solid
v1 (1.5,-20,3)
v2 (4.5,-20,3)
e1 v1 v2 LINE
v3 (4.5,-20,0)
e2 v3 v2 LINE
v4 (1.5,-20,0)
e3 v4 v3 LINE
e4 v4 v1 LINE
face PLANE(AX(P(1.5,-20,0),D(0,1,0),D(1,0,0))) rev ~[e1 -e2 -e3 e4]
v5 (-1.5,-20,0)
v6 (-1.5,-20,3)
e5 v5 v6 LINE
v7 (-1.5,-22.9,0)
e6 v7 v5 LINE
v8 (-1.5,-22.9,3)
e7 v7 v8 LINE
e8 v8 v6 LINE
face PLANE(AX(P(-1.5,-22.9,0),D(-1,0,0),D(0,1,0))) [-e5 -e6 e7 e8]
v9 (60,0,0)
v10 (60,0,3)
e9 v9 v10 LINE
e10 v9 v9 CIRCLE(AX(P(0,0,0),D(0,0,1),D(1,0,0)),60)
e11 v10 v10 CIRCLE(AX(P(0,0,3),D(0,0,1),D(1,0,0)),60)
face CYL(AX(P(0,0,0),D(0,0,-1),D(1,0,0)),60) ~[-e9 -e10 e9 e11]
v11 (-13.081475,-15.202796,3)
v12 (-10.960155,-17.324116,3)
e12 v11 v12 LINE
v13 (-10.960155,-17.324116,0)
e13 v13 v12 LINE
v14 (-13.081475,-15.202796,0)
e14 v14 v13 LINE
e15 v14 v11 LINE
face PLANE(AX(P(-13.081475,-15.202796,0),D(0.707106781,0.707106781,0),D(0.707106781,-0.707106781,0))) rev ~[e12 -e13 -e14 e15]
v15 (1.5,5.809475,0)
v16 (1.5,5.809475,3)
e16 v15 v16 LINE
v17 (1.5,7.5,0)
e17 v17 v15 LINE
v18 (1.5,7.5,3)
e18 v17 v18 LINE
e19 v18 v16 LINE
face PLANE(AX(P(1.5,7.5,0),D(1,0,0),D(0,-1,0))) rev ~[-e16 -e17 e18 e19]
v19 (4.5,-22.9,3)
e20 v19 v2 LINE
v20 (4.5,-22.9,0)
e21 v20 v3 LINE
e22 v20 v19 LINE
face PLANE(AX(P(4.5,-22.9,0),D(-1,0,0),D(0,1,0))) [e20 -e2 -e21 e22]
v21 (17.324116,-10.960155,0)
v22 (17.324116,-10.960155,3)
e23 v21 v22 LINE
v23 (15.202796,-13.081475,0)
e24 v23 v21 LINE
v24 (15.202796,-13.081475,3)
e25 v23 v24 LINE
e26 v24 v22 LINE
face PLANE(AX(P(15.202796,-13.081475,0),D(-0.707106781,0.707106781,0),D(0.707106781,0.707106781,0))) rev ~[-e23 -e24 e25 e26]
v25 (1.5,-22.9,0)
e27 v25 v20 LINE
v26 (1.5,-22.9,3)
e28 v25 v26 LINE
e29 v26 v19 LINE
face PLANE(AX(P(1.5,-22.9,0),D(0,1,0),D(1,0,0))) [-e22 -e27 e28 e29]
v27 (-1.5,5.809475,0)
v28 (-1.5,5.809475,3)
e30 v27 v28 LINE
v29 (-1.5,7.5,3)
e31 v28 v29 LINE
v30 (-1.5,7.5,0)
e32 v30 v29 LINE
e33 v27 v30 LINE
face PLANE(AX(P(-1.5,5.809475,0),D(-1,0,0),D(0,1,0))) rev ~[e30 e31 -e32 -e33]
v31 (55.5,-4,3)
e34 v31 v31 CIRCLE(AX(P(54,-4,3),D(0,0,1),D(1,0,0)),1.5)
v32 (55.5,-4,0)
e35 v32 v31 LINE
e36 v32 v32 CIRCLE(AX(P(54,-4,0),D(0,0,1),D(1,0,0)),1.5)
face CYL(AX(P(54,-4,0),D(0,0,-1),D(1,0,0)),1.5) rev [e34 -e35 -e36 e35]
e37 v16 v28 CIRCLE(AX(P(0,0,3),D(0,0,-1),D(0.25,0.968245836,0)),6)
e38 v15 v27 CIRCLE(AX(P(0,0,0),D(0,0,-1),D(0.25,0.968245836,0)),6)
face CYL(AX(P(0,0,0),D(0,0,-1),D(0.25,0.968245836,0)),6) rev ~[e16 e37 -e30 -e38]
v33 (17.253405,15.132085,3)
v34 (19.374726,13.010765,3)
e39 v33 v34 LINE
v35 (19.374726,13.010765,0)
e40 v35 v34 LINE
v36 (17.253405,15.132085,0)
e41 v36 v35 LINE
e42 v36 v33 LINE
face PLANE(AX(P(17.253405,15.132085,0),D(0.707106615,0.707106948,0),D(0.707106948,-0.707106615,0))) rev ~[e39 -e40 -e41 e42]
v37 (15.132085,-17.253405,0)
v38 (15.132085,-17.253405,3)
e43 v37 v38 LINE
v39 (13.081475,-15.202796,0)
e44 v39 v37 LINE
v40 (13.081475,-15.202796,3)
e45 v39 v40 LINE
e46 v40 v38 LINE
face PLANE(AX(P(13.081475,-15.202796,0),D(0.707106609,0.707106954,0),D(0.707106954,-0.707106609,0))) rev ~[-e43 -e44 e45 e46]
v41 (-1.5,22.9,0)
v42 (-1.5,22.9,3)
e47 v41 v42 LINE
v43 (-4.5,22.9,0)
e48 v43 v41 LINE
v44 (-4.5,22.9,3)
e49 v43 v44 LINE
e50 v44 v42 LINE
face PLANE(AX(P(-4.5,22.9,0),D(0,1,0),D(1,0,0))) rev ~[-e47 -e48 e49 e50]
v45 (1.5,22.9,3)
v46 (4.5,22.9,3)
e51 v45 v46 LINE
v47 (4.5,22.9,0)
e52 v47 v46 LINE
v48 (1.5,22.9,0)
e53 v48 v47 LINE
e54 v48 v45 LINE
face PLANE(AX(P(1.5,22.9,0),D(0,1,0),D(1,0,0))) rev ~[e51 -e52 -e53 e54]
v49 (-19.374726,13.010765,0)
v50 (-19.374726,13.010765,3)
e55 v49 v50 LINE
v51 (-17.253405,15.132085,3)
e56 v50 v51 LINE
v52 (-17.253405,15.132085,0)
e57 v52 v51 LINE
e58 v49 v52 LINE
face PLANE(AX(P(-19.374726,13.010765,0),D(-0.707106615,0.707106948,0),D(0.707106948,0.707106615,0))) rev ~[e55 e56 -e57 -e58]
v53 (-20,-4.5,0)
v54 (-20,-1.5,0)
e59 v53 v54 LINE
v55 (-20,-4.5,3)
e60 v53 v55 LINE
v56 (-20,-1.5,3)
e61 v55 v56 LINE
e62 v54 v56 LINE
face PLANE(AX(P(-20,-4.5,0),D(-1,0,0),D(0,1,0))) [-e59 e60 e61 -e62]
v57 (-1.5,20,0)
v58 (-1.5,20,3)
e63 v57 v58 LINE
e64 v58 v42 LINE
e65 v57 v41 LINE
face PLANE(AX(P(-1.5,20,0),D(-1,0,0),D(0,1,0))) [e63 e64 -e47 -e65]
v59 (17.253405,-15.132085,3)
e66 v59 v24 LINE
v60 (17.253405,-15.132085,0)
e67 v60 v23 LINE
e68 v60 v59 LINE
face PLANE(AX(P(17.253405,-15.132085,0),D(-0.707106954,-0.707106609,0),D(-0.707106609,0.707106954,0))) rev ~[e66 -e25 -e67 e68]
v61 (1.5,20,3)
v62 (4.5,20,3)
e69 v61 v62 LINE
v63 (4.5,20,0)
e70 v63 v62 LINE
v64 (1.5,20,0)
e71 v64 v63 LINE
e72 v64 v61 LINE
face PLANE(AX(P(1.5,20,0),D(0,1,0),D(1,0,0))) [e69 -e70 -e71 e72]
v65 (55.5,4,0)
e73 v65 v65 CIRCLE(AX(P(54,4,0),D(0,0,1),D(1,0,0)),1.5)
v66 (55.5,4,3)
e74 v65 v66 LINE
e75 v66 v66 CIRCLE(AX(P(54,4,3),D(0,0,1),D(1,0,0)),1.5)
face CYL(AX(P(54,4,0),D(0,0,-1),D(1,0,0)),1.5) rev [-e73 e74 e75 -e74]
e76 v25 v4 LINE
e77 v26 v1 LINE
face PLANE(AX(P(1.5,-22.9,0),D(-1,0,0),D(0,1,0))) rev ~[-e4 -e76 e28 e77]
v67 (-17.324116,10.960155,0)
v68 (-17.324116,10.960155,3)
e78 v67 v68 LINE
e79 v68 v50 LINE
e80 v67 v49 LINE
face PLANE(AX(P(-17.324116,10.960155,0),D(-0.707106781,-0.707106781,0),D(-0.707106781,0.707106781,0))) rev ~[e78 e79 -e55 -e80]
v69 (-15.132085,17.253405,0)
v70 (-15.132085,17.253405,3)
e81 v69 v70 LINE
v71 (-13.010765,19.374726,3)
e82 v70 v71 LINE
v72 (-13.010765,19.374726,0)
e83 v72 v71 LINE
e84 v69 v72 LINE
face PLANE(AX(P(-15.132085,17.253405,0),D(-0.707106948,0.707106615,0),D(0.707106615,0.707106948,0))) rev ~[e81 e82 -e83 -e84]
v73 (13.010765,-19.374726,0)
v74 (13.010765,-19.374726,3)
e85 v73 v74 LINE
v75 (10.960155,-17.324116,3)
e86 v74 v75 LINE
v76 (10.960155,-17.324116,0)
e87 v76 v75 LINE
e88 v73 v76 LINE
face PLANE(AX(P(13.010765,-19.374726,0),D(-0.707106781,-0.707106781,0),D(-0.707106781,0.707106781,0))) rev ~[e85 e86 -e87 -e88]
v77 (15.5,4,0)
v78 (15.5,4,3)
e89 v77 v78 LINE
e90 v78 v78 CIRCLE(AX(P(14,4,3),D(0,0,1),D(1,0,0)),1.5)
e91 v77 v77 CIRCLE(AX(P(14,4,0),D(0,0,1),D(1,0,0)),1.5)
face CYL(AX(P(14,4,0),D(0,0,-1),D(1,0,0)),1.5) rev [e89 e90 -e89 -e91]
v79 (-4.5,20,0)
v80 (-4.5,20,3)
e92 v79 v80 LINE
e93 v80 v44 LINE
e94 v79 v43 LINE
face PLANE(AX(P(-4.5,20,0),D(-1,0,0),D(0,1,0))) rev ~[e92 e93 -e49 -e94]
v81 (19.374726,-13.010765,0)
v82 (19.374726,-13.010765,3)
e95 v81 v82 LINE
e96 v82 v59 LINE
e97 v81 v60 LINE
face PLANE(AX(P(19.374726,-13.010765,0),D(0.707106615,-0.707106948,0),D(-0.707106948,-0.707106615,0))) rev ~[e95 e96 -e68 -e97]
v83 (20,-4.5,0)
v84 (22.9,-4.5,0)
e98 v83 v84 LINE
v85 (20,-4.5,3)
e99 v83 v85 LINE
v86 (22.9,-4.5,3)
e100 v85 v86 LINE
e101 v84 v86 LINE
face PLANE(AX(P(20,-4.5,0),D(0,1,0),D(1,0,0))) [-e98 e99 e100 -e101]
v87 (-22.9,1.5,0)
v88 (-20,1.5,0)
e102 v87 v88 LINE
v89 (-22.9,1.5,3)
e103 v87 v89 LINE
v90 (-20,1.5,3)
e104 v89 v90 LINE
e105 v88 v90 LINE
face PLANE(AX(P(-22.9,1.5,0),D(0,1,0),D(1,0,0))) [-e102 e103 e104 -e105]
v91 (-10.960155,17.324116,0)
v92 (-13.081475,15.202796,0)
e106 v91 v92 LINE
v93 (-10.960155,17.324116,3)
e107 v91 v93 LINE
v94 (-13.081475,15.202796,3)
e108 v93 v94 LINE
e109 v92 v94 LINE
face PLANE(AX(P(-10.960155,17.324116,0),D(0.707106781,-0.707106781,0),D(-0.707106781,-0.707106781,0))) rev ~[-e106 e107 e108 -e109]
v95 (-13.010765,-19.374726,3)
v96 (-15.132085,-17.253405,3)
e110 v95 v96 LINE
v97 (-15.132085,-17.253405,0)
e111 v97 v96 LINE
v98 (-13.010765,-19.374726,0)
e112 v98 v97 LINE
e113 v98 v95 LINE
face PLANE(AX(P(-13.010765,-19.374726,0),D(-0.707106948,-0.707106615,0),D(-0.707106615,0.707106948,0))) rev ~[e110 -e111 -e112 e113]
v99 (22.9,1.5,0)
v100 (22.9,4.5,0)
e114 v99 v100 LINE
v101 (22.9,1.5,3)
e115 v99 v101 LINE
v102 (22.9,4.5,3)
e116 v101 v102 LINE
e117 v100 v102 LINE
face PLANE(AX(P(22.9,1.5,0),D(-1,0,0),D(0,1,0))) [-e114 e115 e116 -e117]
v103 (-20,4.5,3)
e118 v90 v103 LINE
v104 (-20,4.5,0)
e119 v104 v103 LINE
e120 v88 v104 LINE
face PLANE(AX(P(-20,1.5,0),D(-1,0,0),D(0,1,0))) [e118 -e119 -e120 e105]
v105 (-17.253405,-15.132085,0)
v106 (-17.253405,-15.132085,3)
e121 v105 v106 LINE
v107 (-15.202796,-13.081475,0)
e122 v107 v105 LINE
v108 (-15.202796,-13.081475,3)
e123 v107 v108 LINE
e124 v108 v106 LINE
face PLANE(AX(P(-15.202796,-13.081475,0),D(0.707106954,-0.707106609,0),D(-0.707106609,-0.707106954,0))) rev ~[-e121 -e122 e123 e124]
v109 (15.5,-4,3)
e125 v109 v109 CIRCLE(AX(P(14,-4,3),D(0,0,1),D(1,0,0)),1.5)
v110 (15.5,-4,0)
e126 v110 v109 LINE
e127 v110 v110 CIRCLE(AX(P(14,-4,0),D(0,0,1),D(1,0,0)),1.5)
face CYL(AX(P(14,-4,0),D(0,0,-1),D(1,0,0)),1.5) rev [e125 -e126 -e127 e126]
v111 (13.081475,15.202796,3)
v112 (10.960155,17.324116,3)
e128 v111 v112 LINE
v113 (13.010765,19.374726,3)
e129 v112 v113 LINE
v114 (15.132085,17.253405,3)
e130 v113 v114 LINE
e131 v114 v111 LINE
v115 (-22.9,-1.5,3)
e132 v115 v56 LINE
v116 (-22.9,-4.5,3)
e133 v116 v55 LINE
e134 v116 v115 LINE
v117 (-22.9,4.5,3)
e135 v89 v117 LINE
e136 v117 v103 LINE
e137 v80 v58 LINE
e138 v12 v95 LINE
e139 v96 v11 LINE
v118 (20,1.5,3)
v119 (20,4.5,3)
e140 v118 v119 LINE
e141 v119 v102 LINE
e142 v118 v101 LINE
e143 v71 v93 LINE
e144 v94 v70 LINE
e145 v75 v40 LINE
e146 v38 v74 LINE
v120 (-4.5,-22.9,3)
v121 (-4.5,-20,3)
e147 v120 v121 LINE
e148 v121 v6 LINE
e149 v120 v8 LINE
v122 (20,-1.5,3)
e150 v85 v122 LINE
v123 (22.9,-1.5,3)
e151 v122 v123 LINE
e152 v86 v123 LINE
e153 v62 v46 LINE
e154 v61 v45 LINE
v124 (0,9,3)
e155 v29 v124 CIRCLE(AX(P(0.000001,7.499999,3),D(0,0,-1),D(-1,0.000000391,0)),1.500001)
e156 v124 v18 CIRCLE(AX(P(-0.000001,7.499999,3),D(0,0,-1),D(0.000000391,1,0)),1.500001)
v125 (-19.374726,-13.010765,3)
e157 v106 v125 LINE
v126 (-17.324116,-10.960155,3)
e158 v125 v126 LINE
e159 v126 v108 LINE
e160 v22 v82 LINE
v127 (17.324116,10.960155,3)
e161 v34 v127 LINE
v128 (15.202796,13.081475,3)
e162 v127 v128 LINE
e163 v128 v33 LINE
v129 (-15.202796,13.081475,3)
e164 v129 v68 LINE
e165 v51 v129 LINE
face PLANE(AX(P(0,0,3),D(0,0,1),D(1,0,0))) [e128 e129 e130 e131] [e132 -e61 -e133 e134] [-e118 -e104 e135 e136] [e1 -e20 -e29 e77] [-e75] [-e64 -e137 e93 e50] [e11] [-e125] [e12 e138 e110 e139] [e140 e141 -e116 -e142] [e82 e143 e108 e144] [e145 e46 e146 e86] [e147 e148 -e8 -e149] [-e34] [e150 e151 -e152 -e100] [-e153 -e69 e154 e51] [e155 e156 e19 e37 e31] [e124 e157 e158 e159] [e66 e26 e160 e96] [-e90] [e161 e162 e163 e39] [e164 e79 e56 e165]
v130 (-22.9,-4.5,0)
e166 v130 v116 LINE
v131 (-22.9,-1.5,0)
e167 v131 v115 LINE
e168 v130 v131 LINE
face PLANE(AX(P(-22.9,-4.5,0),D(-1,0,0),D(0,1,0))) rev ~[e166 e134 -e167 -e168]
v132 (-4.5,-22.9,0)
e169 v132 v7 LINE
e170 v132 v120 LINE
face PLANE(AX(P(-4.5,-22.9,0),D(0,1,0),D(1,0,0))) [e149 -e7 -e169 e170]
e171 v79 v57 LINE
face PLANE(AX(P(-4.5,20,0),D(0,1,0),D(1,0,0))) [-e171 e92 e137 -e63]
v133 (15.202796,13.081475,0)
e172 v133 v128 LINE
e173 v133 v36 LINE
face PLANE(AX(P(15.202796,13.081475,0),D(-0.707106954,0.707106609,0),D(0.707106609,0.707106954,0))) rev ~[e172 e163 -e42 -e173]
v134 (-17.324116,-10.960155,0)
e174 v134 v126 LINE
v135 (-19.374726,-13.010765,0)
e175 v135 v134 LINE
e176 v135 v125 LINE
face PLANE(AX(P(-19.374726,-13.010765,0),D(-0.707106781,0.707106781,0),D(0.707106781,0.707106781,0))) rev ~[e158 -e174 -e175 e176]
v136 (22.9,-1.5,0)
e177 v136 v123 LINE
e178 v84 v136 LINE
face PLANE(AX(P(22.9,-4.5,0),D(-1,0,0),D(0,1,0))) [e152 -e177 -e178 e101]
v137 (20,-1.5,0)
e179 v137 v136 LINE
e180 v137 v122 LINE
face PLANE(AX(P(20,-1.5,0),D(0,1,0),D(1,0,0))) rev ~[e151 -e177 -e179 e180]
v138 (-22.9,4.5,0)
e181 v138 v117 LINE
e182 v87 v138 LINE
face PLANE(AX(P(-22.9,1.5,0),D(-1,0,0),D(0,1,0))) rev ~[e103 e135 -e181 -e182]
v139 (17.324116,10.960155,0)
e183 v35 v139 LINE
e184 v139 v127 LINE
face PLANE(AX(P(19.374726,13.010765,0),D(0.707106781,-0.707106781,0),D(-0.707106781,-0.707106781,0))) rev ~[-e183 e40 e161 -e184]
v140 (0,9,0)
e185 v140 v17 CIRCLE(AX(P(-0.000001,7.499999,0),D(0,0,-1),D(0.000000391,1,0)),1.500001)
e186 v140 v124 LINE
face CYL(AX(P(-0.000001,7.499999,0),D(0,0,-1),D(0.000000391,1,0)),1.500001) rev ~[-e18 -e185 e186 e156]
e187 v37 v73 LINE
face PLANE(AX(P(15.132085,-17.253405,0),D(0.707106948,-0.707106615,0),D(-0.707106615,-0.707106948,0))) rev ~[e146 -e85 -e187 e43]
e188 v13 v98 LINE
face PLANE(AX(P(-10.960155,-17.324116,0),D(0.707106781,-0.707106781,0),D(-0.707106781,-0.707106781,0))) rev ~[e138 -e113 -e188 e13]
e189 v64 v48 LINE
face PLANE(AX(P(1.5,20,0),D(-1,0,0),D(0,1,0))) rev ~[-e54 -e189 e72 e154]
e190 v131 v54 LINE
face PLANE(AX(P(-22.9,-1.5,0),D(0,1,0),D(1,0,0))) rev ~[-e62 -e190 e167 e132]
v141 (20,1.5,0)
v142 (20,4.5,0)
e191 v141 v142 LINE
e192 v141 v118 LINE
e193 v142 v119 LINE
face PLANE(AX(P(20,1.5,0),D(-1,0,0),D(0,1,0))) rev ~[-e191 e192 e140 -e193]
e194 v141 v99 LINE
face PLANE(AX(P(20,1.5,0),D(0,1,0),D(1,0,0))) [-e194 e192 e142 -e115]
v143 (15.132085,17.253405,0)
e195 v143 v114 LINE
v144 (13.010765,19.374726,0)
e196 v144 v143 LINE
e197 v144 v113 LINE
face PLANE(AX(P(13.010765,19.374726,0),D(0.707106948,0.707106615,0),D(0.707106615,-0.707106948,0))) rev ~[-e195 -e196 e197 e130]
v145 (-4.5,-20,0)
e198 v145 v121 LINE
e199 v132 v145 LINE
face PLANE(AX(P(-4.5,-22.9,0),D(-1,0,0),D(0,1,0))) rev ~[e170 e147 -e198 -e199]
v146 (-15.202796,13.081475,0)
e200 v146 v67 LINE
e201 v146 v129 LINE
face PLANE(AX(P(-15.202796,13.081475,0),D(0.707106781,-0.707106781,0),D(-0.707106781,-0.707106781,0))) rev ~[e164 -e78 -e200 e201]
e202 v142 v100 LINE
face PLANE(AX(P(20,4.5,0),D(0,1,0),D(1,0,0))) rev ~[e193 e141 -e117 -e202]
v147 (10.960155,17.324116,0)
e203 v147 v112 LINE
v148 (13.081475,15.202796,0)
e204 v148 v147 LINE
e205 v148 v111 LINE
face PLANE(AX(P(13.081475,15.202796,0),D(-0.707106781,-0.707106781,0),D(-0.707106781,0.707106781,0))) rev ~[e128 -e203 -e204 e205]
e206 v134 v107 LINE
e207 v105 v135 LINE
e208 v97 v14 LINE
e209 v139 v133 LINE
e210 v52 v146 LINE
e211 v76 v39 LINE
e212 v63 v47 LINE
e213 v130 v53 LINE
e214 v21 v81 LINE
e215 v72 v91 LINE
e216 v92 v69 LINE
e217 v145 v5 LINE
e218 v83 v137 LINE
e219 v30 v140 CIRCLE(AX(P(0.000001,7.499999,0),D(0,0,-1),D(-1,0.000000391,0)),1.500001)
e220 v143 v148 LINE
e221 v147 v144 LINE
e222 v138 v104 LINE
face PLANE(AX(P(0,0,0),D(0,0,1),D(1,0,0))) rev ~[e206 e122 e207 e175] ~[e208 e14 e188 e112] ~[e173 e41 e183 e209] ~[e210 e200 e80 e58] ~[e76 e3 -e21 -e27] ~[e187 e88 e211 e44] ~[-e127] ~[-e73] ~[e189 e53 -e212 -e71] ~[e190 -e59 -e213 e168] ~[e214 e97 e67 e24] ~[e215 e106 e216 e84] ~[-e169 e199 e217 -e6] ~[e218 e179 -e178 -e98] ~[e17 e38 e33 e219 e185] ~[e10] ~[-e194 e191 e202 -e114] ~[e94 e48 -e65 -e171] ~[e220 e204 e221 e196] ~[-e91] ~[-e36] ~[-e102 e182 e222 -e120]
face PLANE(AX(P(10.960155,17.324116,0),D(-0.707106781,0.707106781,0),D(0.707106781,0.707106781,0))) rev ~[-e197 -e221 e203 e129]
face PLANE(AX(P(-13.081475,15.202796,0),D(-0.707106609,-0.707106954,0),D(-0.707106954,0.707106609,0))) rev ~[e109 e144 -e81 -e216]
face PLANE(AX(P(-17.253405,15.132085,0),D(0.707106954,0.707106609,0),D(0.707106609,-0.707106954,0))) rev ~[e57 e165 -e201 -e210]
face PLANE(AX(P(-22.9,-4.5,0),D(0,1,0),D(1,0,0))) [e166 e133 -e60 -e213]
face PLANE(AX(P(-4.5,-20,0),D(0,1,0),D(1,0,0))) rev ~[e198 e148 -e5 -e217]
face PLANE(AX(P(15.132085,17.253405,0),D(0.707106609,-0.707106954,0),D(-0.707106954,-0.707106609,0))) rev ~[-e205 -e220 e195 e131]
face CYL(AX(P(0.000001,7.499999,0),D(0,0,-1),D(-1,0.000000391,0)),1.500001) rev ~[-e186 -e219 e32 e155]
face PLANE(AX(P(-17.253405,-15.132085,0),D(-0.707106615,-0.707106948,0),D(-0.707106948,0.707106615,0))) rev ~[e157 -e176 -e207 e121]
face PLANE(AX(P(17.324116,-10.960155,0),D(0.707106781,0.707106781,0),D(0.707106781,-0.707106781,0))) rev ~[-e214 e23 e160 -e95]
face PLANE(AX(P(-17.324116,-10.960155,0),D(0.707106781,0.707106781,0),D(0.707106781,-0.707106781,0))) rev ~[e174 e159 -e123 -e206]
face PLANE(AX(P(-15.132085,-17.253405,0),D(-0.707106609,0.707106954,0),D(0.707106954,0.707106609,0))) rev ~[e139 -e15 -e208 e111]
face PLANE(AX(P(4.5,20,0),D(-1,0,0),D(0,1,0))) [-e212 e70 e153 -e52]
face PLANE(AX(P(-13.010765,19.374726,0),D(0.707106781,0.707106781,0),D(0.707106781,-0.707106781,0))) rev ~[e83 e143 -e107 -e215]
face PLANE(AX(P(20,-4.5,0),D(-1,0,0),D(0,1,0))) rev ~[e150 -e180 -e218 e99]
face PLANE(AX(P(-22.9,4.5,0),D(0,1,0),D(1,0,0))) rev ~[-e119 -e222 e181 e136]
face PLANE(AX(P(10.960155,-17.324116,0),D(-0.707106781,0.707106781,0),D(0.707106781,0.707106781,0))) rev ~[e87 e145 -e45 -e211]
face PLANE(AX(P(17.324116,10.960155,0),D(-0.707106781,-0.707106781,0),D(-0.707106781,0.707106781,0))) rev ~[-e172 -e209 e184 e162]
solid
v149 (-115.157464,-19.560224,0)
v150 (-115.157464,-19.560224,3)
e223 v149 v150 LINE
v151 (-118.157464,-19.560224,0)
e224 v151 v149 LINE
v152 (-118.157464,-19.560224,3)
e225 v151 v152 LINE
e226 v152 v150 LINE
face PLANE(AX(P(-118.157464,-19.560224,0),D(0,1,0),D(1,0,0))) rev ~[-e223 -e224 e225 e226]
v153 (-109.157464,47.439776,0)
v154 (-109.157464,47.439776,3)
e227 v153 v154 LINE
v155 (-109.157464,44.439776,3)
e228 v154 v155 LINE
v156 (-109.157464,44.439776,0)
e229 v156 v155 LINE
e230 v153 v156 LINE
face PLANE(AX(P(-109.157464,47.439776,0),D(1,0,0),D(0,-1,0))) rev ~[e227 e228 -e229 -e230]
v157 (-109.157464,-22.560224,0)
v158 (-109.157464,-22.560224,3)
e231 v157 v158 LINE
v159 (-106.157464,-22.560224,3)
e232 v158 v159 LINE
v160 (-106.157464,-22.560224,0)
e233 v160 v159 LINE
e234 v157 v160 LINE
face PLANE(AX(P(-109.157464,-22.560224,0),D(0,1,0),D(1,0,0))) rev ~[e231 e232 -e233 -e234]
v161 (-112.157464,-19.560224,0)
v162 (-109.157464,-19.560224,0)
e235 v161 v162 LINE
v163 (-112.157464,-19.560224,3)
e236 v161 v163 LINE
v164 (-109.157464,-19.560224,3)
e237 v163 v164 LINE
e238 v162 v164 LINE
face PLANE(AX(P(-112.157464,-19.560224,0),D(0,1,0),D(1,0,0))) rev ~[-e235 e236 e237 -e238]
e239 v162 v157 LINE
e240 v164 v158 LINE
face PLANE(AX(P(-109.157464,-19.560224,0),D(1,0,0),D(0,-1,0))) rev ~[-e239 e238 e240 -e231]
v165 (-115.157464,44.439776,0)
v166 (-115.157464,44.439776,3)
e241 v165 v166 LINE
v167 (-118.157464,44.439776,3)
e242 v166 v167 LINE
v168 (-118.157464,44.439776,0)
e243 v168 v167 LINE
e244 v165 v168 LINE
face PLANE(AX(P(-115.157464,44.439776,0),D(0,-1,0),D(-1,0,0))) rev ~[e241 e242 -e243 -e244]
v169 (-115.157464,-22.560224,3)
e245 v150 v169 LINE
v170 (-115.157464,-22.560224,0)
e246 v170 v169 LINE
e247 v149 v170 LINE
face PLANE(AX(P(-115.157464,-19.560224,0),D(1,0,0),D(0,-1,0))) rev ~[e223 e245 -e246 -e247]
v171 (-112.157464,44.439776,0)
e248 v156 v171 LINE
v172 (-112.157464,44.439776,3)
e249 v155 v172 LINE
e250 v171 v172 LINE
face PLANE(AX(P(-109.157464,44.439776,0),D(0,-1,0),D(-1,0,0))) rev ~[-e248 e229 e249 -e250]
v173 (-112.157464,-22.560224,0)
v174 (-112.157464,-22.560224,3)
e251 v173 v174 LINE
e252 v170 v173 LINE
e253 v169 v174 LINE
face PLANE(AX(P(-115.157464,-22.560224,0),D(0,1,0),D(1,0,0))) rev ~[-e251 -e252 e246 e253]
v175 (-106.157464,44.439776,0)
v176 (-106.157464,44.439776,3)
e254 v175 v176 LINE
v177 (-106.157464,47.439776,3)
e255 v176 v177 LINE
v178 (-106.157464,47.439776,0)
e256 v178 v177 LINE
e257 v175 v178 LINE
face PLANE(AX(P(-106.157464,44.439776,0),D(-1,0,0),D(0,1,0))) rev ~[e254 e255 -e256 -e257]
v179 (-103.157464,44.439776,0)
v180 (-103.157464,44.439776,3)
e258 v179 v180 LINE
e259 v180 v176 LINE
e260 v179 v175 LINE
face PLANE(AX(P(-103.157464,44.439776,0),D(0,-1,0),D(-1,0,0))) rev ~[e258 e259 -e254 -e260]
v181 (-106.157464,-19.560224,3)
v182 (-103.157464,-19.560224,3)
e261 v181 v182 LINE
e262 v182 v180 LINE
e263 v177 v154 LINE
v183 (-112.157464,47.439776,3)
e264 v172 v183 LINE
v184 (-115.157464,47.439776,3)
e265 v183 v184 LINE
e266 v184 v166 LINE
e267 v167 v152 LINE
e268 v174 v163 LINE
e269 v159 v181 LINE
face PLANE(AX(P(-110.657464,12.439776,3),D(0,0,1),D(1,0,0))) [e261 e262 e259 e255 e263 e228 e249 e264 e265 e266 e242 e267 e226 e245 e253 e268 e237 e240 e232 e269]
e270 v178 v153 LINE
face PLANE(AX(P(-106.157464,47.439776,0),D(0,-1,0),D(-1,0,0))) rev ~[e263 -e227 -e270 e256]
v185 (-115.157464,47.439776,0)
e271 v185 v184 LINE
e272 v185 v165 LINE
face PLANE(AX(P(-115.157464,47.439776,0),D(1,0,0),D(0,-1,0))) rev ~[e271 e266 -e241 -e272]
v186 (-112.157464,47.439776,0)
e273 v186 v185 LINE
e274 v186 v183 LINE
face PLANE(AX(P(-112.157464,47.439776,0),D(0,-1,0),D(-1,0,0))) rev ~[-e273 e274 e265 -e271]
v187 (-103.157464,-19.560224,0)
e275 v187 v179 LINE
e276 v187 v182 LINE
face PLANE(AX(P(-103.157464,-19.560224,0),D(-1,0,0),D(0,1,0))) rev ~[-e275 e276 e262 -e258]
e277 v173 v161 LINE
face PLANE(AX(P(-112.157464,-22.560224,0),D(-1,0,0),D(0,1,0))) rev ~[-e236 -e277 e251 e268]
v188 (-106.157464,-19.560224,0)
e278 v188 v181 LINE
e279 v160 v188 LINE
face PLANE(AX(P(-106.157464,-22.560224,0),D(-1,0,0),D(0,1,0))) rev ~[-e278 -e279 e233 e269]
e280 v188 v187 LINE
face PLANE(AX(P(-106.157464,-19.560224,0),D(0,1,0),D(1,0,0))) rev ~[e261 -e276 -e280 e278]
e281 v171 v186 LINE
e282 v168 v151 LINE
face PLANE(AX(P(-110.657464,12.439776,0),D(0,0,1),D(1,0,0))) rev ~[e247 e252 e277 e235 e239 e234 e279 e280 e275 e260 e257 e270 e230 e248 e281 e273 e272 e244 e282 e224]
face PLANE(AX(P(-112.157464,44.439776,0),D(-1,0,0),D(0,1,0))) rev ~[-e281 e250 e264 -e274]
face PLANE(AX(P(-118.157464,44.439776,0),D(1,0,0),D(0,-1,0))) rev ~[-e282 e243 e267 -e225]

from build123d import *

# Parameters (mm, degrees)
F2_DEPTH = 3
F0_R     = 60
F0_W     = 3
F0_H     = 2.9
F0_W_2   = 2.9
F0_H_2   = 3
F0_R_2   = 1.5
F0_R_3   = 20
F3_DEPTH = 3


with BuildPart() as f2:
    # F1 (on Top) → F2 (new body)
    with BuildSketch(Plane.XY):
        Polygon((-112.157464, 47.439776), (-115.157464, 47.439776), (-115.157464, 44.439776), (-118.157464, 44.439776), (-118.157464, -19.560224), (-115.157464, -19.560224), (-115.157464, -22.560224), (-112.157464, -22.560224), (-112.157464, -19.560224), (-109.157464, -19.560224), (-109.157464, -22.560224), (-106.157464, -22.560224), (-106.157464, -19.560224), (-103.157464, -19.560224), (-103.157464, 44.439776), (-106.157464, 44.439776), (-106.157464, 47.439776), (-109.157464, 47.439776), (-109.157464, 44.439776), (-112.157464, 44.439776), align=None)
    extrude(amount=F2_DEPTH)


with BuildPart() as f3:
    # F0 (on Top) → F3 (new body)
    with BuildSketch(Plane.XY):
        Circle(F0_R)
        Polygon((-13.010765, -19.374726), (-15.132085, -17.253405), (-13.081475, -15.202796), (-10.960155, -17.324116), align=None, mode=Mode.SUBTRACT)
        with Locations((-3, -21.45)):
            Rectangle(F0_W, F0_H, mode=Mode.SUBTRACT)
        with Locations((3, -21.45)):
            Rectangle(F0_W, F0_H, mode=Mode.SUBTRACT)
        Polygon((10.960155, -17.324116), (13.081475, -15.202796), (15.132085, -17.253405), (13.010765, -19.374726), align=None, mode=Mode.SUBTRACT)
        Polygon((-17.253405, -15.132085), (-19.374726, -13.010765), (-17.324116, -10.960155), (-15.202796, -13.081475), align=None, mode=Mode.SUBTRACT)
        with Locations((-21.45, -3)):
            Rectangle(F0_W_2, F0_H_2, mode=Mode.SUBTRACT)
        Polygon((15.202796, -13.081475), (17.324116, -10.960155), (19.374726, -13.010765), (17.253405, -15.132085), align=None, mode=Mode.SUBTRACT)
        with Locations((21.45, -3)):
            Rectangle(F0_W_2, F0_H_2, mode=Mode.SUBTRACT)
        with Locations((54, -4)):
            Circle(F0_R_2, mode=Mode.SUBTRACT)
        with Locations((-21.45, 3)):
            Rectangle(F0_W_2, F0_H_2, mode=Mode.SUBTRACT)
        Circle(F0_R_3, mode=Mode.SUBTRACT)
        Polygon((-19.374726, 13.010765), (-17.253405, 15.132085), (-15.202796, 13.081475), (-17.324116, 10.960155), align=None, mode=Mode.SUBTRACT)
        with Locations((21.45, 3)):
            Rectangle(F0_W_2, F0_H_2, mode=Mode.SUBTRACT)
        with Locations((54, 4)):
            Circle(F0_R_2, mode=Mode.SUBTRACT)
        Polygon((17.324116, 10.960155), (15.202796, 13.081475), (17.253405, 15.132085), (19.374726, 13.010765), align=None, mode=Mode.SUBTRACT)
        Polygon((-15.132085, 17.253405), (-13.010765, 19.374726), (-10.960155, 17.324116), (-13.081475, 15.202796), align=None, mode=Mode.SUBTRACT)
        Polygon((13.081475, 15.202796), (10.960155, 17.324116), (13.010765, 19.374726), (15.132085, 17.253405), align=None, mode=Mode.SUBTRACT)
        with Locations((-3, 21.45)):
            Rectangle(F0_W, F0_H, mode=Mode.SUBTRACT)
        with Locations((3, 21.45)):
            Rectangle(F0_W, F0_H, mode=Mode.SUBTRACT)
        Circle(F0_R_3)
        with Locations((14, -4)):
            Circle(F0_R_2, mode=Mode.SUBTRACT)
        with BuildLine():
            ThreePointArc((1.5, 5.809475), (0, -6), (-1.5, 5.809475))
            Line((-1.5, 5.809475), (-1.5, 7.5))
            ThreePointArc((-1.5, 7.5), (-1.06066, 8.56066), (0, 9))
            ThreePointArc((0, 9), (1.06066, 8.56066), (1.5, 7.5))
            Line((1.5, 7.5), (1.5, 5.809475))
        make_face(mode=Mode.SUBTRACT)
        with Locations((14, 4)):
            Circle(F0_R_2, mode=Mode.SUBTRACT)
    extrude(amount=F3_DEPTH)


solid = Compound([f2.part, f3.part])
